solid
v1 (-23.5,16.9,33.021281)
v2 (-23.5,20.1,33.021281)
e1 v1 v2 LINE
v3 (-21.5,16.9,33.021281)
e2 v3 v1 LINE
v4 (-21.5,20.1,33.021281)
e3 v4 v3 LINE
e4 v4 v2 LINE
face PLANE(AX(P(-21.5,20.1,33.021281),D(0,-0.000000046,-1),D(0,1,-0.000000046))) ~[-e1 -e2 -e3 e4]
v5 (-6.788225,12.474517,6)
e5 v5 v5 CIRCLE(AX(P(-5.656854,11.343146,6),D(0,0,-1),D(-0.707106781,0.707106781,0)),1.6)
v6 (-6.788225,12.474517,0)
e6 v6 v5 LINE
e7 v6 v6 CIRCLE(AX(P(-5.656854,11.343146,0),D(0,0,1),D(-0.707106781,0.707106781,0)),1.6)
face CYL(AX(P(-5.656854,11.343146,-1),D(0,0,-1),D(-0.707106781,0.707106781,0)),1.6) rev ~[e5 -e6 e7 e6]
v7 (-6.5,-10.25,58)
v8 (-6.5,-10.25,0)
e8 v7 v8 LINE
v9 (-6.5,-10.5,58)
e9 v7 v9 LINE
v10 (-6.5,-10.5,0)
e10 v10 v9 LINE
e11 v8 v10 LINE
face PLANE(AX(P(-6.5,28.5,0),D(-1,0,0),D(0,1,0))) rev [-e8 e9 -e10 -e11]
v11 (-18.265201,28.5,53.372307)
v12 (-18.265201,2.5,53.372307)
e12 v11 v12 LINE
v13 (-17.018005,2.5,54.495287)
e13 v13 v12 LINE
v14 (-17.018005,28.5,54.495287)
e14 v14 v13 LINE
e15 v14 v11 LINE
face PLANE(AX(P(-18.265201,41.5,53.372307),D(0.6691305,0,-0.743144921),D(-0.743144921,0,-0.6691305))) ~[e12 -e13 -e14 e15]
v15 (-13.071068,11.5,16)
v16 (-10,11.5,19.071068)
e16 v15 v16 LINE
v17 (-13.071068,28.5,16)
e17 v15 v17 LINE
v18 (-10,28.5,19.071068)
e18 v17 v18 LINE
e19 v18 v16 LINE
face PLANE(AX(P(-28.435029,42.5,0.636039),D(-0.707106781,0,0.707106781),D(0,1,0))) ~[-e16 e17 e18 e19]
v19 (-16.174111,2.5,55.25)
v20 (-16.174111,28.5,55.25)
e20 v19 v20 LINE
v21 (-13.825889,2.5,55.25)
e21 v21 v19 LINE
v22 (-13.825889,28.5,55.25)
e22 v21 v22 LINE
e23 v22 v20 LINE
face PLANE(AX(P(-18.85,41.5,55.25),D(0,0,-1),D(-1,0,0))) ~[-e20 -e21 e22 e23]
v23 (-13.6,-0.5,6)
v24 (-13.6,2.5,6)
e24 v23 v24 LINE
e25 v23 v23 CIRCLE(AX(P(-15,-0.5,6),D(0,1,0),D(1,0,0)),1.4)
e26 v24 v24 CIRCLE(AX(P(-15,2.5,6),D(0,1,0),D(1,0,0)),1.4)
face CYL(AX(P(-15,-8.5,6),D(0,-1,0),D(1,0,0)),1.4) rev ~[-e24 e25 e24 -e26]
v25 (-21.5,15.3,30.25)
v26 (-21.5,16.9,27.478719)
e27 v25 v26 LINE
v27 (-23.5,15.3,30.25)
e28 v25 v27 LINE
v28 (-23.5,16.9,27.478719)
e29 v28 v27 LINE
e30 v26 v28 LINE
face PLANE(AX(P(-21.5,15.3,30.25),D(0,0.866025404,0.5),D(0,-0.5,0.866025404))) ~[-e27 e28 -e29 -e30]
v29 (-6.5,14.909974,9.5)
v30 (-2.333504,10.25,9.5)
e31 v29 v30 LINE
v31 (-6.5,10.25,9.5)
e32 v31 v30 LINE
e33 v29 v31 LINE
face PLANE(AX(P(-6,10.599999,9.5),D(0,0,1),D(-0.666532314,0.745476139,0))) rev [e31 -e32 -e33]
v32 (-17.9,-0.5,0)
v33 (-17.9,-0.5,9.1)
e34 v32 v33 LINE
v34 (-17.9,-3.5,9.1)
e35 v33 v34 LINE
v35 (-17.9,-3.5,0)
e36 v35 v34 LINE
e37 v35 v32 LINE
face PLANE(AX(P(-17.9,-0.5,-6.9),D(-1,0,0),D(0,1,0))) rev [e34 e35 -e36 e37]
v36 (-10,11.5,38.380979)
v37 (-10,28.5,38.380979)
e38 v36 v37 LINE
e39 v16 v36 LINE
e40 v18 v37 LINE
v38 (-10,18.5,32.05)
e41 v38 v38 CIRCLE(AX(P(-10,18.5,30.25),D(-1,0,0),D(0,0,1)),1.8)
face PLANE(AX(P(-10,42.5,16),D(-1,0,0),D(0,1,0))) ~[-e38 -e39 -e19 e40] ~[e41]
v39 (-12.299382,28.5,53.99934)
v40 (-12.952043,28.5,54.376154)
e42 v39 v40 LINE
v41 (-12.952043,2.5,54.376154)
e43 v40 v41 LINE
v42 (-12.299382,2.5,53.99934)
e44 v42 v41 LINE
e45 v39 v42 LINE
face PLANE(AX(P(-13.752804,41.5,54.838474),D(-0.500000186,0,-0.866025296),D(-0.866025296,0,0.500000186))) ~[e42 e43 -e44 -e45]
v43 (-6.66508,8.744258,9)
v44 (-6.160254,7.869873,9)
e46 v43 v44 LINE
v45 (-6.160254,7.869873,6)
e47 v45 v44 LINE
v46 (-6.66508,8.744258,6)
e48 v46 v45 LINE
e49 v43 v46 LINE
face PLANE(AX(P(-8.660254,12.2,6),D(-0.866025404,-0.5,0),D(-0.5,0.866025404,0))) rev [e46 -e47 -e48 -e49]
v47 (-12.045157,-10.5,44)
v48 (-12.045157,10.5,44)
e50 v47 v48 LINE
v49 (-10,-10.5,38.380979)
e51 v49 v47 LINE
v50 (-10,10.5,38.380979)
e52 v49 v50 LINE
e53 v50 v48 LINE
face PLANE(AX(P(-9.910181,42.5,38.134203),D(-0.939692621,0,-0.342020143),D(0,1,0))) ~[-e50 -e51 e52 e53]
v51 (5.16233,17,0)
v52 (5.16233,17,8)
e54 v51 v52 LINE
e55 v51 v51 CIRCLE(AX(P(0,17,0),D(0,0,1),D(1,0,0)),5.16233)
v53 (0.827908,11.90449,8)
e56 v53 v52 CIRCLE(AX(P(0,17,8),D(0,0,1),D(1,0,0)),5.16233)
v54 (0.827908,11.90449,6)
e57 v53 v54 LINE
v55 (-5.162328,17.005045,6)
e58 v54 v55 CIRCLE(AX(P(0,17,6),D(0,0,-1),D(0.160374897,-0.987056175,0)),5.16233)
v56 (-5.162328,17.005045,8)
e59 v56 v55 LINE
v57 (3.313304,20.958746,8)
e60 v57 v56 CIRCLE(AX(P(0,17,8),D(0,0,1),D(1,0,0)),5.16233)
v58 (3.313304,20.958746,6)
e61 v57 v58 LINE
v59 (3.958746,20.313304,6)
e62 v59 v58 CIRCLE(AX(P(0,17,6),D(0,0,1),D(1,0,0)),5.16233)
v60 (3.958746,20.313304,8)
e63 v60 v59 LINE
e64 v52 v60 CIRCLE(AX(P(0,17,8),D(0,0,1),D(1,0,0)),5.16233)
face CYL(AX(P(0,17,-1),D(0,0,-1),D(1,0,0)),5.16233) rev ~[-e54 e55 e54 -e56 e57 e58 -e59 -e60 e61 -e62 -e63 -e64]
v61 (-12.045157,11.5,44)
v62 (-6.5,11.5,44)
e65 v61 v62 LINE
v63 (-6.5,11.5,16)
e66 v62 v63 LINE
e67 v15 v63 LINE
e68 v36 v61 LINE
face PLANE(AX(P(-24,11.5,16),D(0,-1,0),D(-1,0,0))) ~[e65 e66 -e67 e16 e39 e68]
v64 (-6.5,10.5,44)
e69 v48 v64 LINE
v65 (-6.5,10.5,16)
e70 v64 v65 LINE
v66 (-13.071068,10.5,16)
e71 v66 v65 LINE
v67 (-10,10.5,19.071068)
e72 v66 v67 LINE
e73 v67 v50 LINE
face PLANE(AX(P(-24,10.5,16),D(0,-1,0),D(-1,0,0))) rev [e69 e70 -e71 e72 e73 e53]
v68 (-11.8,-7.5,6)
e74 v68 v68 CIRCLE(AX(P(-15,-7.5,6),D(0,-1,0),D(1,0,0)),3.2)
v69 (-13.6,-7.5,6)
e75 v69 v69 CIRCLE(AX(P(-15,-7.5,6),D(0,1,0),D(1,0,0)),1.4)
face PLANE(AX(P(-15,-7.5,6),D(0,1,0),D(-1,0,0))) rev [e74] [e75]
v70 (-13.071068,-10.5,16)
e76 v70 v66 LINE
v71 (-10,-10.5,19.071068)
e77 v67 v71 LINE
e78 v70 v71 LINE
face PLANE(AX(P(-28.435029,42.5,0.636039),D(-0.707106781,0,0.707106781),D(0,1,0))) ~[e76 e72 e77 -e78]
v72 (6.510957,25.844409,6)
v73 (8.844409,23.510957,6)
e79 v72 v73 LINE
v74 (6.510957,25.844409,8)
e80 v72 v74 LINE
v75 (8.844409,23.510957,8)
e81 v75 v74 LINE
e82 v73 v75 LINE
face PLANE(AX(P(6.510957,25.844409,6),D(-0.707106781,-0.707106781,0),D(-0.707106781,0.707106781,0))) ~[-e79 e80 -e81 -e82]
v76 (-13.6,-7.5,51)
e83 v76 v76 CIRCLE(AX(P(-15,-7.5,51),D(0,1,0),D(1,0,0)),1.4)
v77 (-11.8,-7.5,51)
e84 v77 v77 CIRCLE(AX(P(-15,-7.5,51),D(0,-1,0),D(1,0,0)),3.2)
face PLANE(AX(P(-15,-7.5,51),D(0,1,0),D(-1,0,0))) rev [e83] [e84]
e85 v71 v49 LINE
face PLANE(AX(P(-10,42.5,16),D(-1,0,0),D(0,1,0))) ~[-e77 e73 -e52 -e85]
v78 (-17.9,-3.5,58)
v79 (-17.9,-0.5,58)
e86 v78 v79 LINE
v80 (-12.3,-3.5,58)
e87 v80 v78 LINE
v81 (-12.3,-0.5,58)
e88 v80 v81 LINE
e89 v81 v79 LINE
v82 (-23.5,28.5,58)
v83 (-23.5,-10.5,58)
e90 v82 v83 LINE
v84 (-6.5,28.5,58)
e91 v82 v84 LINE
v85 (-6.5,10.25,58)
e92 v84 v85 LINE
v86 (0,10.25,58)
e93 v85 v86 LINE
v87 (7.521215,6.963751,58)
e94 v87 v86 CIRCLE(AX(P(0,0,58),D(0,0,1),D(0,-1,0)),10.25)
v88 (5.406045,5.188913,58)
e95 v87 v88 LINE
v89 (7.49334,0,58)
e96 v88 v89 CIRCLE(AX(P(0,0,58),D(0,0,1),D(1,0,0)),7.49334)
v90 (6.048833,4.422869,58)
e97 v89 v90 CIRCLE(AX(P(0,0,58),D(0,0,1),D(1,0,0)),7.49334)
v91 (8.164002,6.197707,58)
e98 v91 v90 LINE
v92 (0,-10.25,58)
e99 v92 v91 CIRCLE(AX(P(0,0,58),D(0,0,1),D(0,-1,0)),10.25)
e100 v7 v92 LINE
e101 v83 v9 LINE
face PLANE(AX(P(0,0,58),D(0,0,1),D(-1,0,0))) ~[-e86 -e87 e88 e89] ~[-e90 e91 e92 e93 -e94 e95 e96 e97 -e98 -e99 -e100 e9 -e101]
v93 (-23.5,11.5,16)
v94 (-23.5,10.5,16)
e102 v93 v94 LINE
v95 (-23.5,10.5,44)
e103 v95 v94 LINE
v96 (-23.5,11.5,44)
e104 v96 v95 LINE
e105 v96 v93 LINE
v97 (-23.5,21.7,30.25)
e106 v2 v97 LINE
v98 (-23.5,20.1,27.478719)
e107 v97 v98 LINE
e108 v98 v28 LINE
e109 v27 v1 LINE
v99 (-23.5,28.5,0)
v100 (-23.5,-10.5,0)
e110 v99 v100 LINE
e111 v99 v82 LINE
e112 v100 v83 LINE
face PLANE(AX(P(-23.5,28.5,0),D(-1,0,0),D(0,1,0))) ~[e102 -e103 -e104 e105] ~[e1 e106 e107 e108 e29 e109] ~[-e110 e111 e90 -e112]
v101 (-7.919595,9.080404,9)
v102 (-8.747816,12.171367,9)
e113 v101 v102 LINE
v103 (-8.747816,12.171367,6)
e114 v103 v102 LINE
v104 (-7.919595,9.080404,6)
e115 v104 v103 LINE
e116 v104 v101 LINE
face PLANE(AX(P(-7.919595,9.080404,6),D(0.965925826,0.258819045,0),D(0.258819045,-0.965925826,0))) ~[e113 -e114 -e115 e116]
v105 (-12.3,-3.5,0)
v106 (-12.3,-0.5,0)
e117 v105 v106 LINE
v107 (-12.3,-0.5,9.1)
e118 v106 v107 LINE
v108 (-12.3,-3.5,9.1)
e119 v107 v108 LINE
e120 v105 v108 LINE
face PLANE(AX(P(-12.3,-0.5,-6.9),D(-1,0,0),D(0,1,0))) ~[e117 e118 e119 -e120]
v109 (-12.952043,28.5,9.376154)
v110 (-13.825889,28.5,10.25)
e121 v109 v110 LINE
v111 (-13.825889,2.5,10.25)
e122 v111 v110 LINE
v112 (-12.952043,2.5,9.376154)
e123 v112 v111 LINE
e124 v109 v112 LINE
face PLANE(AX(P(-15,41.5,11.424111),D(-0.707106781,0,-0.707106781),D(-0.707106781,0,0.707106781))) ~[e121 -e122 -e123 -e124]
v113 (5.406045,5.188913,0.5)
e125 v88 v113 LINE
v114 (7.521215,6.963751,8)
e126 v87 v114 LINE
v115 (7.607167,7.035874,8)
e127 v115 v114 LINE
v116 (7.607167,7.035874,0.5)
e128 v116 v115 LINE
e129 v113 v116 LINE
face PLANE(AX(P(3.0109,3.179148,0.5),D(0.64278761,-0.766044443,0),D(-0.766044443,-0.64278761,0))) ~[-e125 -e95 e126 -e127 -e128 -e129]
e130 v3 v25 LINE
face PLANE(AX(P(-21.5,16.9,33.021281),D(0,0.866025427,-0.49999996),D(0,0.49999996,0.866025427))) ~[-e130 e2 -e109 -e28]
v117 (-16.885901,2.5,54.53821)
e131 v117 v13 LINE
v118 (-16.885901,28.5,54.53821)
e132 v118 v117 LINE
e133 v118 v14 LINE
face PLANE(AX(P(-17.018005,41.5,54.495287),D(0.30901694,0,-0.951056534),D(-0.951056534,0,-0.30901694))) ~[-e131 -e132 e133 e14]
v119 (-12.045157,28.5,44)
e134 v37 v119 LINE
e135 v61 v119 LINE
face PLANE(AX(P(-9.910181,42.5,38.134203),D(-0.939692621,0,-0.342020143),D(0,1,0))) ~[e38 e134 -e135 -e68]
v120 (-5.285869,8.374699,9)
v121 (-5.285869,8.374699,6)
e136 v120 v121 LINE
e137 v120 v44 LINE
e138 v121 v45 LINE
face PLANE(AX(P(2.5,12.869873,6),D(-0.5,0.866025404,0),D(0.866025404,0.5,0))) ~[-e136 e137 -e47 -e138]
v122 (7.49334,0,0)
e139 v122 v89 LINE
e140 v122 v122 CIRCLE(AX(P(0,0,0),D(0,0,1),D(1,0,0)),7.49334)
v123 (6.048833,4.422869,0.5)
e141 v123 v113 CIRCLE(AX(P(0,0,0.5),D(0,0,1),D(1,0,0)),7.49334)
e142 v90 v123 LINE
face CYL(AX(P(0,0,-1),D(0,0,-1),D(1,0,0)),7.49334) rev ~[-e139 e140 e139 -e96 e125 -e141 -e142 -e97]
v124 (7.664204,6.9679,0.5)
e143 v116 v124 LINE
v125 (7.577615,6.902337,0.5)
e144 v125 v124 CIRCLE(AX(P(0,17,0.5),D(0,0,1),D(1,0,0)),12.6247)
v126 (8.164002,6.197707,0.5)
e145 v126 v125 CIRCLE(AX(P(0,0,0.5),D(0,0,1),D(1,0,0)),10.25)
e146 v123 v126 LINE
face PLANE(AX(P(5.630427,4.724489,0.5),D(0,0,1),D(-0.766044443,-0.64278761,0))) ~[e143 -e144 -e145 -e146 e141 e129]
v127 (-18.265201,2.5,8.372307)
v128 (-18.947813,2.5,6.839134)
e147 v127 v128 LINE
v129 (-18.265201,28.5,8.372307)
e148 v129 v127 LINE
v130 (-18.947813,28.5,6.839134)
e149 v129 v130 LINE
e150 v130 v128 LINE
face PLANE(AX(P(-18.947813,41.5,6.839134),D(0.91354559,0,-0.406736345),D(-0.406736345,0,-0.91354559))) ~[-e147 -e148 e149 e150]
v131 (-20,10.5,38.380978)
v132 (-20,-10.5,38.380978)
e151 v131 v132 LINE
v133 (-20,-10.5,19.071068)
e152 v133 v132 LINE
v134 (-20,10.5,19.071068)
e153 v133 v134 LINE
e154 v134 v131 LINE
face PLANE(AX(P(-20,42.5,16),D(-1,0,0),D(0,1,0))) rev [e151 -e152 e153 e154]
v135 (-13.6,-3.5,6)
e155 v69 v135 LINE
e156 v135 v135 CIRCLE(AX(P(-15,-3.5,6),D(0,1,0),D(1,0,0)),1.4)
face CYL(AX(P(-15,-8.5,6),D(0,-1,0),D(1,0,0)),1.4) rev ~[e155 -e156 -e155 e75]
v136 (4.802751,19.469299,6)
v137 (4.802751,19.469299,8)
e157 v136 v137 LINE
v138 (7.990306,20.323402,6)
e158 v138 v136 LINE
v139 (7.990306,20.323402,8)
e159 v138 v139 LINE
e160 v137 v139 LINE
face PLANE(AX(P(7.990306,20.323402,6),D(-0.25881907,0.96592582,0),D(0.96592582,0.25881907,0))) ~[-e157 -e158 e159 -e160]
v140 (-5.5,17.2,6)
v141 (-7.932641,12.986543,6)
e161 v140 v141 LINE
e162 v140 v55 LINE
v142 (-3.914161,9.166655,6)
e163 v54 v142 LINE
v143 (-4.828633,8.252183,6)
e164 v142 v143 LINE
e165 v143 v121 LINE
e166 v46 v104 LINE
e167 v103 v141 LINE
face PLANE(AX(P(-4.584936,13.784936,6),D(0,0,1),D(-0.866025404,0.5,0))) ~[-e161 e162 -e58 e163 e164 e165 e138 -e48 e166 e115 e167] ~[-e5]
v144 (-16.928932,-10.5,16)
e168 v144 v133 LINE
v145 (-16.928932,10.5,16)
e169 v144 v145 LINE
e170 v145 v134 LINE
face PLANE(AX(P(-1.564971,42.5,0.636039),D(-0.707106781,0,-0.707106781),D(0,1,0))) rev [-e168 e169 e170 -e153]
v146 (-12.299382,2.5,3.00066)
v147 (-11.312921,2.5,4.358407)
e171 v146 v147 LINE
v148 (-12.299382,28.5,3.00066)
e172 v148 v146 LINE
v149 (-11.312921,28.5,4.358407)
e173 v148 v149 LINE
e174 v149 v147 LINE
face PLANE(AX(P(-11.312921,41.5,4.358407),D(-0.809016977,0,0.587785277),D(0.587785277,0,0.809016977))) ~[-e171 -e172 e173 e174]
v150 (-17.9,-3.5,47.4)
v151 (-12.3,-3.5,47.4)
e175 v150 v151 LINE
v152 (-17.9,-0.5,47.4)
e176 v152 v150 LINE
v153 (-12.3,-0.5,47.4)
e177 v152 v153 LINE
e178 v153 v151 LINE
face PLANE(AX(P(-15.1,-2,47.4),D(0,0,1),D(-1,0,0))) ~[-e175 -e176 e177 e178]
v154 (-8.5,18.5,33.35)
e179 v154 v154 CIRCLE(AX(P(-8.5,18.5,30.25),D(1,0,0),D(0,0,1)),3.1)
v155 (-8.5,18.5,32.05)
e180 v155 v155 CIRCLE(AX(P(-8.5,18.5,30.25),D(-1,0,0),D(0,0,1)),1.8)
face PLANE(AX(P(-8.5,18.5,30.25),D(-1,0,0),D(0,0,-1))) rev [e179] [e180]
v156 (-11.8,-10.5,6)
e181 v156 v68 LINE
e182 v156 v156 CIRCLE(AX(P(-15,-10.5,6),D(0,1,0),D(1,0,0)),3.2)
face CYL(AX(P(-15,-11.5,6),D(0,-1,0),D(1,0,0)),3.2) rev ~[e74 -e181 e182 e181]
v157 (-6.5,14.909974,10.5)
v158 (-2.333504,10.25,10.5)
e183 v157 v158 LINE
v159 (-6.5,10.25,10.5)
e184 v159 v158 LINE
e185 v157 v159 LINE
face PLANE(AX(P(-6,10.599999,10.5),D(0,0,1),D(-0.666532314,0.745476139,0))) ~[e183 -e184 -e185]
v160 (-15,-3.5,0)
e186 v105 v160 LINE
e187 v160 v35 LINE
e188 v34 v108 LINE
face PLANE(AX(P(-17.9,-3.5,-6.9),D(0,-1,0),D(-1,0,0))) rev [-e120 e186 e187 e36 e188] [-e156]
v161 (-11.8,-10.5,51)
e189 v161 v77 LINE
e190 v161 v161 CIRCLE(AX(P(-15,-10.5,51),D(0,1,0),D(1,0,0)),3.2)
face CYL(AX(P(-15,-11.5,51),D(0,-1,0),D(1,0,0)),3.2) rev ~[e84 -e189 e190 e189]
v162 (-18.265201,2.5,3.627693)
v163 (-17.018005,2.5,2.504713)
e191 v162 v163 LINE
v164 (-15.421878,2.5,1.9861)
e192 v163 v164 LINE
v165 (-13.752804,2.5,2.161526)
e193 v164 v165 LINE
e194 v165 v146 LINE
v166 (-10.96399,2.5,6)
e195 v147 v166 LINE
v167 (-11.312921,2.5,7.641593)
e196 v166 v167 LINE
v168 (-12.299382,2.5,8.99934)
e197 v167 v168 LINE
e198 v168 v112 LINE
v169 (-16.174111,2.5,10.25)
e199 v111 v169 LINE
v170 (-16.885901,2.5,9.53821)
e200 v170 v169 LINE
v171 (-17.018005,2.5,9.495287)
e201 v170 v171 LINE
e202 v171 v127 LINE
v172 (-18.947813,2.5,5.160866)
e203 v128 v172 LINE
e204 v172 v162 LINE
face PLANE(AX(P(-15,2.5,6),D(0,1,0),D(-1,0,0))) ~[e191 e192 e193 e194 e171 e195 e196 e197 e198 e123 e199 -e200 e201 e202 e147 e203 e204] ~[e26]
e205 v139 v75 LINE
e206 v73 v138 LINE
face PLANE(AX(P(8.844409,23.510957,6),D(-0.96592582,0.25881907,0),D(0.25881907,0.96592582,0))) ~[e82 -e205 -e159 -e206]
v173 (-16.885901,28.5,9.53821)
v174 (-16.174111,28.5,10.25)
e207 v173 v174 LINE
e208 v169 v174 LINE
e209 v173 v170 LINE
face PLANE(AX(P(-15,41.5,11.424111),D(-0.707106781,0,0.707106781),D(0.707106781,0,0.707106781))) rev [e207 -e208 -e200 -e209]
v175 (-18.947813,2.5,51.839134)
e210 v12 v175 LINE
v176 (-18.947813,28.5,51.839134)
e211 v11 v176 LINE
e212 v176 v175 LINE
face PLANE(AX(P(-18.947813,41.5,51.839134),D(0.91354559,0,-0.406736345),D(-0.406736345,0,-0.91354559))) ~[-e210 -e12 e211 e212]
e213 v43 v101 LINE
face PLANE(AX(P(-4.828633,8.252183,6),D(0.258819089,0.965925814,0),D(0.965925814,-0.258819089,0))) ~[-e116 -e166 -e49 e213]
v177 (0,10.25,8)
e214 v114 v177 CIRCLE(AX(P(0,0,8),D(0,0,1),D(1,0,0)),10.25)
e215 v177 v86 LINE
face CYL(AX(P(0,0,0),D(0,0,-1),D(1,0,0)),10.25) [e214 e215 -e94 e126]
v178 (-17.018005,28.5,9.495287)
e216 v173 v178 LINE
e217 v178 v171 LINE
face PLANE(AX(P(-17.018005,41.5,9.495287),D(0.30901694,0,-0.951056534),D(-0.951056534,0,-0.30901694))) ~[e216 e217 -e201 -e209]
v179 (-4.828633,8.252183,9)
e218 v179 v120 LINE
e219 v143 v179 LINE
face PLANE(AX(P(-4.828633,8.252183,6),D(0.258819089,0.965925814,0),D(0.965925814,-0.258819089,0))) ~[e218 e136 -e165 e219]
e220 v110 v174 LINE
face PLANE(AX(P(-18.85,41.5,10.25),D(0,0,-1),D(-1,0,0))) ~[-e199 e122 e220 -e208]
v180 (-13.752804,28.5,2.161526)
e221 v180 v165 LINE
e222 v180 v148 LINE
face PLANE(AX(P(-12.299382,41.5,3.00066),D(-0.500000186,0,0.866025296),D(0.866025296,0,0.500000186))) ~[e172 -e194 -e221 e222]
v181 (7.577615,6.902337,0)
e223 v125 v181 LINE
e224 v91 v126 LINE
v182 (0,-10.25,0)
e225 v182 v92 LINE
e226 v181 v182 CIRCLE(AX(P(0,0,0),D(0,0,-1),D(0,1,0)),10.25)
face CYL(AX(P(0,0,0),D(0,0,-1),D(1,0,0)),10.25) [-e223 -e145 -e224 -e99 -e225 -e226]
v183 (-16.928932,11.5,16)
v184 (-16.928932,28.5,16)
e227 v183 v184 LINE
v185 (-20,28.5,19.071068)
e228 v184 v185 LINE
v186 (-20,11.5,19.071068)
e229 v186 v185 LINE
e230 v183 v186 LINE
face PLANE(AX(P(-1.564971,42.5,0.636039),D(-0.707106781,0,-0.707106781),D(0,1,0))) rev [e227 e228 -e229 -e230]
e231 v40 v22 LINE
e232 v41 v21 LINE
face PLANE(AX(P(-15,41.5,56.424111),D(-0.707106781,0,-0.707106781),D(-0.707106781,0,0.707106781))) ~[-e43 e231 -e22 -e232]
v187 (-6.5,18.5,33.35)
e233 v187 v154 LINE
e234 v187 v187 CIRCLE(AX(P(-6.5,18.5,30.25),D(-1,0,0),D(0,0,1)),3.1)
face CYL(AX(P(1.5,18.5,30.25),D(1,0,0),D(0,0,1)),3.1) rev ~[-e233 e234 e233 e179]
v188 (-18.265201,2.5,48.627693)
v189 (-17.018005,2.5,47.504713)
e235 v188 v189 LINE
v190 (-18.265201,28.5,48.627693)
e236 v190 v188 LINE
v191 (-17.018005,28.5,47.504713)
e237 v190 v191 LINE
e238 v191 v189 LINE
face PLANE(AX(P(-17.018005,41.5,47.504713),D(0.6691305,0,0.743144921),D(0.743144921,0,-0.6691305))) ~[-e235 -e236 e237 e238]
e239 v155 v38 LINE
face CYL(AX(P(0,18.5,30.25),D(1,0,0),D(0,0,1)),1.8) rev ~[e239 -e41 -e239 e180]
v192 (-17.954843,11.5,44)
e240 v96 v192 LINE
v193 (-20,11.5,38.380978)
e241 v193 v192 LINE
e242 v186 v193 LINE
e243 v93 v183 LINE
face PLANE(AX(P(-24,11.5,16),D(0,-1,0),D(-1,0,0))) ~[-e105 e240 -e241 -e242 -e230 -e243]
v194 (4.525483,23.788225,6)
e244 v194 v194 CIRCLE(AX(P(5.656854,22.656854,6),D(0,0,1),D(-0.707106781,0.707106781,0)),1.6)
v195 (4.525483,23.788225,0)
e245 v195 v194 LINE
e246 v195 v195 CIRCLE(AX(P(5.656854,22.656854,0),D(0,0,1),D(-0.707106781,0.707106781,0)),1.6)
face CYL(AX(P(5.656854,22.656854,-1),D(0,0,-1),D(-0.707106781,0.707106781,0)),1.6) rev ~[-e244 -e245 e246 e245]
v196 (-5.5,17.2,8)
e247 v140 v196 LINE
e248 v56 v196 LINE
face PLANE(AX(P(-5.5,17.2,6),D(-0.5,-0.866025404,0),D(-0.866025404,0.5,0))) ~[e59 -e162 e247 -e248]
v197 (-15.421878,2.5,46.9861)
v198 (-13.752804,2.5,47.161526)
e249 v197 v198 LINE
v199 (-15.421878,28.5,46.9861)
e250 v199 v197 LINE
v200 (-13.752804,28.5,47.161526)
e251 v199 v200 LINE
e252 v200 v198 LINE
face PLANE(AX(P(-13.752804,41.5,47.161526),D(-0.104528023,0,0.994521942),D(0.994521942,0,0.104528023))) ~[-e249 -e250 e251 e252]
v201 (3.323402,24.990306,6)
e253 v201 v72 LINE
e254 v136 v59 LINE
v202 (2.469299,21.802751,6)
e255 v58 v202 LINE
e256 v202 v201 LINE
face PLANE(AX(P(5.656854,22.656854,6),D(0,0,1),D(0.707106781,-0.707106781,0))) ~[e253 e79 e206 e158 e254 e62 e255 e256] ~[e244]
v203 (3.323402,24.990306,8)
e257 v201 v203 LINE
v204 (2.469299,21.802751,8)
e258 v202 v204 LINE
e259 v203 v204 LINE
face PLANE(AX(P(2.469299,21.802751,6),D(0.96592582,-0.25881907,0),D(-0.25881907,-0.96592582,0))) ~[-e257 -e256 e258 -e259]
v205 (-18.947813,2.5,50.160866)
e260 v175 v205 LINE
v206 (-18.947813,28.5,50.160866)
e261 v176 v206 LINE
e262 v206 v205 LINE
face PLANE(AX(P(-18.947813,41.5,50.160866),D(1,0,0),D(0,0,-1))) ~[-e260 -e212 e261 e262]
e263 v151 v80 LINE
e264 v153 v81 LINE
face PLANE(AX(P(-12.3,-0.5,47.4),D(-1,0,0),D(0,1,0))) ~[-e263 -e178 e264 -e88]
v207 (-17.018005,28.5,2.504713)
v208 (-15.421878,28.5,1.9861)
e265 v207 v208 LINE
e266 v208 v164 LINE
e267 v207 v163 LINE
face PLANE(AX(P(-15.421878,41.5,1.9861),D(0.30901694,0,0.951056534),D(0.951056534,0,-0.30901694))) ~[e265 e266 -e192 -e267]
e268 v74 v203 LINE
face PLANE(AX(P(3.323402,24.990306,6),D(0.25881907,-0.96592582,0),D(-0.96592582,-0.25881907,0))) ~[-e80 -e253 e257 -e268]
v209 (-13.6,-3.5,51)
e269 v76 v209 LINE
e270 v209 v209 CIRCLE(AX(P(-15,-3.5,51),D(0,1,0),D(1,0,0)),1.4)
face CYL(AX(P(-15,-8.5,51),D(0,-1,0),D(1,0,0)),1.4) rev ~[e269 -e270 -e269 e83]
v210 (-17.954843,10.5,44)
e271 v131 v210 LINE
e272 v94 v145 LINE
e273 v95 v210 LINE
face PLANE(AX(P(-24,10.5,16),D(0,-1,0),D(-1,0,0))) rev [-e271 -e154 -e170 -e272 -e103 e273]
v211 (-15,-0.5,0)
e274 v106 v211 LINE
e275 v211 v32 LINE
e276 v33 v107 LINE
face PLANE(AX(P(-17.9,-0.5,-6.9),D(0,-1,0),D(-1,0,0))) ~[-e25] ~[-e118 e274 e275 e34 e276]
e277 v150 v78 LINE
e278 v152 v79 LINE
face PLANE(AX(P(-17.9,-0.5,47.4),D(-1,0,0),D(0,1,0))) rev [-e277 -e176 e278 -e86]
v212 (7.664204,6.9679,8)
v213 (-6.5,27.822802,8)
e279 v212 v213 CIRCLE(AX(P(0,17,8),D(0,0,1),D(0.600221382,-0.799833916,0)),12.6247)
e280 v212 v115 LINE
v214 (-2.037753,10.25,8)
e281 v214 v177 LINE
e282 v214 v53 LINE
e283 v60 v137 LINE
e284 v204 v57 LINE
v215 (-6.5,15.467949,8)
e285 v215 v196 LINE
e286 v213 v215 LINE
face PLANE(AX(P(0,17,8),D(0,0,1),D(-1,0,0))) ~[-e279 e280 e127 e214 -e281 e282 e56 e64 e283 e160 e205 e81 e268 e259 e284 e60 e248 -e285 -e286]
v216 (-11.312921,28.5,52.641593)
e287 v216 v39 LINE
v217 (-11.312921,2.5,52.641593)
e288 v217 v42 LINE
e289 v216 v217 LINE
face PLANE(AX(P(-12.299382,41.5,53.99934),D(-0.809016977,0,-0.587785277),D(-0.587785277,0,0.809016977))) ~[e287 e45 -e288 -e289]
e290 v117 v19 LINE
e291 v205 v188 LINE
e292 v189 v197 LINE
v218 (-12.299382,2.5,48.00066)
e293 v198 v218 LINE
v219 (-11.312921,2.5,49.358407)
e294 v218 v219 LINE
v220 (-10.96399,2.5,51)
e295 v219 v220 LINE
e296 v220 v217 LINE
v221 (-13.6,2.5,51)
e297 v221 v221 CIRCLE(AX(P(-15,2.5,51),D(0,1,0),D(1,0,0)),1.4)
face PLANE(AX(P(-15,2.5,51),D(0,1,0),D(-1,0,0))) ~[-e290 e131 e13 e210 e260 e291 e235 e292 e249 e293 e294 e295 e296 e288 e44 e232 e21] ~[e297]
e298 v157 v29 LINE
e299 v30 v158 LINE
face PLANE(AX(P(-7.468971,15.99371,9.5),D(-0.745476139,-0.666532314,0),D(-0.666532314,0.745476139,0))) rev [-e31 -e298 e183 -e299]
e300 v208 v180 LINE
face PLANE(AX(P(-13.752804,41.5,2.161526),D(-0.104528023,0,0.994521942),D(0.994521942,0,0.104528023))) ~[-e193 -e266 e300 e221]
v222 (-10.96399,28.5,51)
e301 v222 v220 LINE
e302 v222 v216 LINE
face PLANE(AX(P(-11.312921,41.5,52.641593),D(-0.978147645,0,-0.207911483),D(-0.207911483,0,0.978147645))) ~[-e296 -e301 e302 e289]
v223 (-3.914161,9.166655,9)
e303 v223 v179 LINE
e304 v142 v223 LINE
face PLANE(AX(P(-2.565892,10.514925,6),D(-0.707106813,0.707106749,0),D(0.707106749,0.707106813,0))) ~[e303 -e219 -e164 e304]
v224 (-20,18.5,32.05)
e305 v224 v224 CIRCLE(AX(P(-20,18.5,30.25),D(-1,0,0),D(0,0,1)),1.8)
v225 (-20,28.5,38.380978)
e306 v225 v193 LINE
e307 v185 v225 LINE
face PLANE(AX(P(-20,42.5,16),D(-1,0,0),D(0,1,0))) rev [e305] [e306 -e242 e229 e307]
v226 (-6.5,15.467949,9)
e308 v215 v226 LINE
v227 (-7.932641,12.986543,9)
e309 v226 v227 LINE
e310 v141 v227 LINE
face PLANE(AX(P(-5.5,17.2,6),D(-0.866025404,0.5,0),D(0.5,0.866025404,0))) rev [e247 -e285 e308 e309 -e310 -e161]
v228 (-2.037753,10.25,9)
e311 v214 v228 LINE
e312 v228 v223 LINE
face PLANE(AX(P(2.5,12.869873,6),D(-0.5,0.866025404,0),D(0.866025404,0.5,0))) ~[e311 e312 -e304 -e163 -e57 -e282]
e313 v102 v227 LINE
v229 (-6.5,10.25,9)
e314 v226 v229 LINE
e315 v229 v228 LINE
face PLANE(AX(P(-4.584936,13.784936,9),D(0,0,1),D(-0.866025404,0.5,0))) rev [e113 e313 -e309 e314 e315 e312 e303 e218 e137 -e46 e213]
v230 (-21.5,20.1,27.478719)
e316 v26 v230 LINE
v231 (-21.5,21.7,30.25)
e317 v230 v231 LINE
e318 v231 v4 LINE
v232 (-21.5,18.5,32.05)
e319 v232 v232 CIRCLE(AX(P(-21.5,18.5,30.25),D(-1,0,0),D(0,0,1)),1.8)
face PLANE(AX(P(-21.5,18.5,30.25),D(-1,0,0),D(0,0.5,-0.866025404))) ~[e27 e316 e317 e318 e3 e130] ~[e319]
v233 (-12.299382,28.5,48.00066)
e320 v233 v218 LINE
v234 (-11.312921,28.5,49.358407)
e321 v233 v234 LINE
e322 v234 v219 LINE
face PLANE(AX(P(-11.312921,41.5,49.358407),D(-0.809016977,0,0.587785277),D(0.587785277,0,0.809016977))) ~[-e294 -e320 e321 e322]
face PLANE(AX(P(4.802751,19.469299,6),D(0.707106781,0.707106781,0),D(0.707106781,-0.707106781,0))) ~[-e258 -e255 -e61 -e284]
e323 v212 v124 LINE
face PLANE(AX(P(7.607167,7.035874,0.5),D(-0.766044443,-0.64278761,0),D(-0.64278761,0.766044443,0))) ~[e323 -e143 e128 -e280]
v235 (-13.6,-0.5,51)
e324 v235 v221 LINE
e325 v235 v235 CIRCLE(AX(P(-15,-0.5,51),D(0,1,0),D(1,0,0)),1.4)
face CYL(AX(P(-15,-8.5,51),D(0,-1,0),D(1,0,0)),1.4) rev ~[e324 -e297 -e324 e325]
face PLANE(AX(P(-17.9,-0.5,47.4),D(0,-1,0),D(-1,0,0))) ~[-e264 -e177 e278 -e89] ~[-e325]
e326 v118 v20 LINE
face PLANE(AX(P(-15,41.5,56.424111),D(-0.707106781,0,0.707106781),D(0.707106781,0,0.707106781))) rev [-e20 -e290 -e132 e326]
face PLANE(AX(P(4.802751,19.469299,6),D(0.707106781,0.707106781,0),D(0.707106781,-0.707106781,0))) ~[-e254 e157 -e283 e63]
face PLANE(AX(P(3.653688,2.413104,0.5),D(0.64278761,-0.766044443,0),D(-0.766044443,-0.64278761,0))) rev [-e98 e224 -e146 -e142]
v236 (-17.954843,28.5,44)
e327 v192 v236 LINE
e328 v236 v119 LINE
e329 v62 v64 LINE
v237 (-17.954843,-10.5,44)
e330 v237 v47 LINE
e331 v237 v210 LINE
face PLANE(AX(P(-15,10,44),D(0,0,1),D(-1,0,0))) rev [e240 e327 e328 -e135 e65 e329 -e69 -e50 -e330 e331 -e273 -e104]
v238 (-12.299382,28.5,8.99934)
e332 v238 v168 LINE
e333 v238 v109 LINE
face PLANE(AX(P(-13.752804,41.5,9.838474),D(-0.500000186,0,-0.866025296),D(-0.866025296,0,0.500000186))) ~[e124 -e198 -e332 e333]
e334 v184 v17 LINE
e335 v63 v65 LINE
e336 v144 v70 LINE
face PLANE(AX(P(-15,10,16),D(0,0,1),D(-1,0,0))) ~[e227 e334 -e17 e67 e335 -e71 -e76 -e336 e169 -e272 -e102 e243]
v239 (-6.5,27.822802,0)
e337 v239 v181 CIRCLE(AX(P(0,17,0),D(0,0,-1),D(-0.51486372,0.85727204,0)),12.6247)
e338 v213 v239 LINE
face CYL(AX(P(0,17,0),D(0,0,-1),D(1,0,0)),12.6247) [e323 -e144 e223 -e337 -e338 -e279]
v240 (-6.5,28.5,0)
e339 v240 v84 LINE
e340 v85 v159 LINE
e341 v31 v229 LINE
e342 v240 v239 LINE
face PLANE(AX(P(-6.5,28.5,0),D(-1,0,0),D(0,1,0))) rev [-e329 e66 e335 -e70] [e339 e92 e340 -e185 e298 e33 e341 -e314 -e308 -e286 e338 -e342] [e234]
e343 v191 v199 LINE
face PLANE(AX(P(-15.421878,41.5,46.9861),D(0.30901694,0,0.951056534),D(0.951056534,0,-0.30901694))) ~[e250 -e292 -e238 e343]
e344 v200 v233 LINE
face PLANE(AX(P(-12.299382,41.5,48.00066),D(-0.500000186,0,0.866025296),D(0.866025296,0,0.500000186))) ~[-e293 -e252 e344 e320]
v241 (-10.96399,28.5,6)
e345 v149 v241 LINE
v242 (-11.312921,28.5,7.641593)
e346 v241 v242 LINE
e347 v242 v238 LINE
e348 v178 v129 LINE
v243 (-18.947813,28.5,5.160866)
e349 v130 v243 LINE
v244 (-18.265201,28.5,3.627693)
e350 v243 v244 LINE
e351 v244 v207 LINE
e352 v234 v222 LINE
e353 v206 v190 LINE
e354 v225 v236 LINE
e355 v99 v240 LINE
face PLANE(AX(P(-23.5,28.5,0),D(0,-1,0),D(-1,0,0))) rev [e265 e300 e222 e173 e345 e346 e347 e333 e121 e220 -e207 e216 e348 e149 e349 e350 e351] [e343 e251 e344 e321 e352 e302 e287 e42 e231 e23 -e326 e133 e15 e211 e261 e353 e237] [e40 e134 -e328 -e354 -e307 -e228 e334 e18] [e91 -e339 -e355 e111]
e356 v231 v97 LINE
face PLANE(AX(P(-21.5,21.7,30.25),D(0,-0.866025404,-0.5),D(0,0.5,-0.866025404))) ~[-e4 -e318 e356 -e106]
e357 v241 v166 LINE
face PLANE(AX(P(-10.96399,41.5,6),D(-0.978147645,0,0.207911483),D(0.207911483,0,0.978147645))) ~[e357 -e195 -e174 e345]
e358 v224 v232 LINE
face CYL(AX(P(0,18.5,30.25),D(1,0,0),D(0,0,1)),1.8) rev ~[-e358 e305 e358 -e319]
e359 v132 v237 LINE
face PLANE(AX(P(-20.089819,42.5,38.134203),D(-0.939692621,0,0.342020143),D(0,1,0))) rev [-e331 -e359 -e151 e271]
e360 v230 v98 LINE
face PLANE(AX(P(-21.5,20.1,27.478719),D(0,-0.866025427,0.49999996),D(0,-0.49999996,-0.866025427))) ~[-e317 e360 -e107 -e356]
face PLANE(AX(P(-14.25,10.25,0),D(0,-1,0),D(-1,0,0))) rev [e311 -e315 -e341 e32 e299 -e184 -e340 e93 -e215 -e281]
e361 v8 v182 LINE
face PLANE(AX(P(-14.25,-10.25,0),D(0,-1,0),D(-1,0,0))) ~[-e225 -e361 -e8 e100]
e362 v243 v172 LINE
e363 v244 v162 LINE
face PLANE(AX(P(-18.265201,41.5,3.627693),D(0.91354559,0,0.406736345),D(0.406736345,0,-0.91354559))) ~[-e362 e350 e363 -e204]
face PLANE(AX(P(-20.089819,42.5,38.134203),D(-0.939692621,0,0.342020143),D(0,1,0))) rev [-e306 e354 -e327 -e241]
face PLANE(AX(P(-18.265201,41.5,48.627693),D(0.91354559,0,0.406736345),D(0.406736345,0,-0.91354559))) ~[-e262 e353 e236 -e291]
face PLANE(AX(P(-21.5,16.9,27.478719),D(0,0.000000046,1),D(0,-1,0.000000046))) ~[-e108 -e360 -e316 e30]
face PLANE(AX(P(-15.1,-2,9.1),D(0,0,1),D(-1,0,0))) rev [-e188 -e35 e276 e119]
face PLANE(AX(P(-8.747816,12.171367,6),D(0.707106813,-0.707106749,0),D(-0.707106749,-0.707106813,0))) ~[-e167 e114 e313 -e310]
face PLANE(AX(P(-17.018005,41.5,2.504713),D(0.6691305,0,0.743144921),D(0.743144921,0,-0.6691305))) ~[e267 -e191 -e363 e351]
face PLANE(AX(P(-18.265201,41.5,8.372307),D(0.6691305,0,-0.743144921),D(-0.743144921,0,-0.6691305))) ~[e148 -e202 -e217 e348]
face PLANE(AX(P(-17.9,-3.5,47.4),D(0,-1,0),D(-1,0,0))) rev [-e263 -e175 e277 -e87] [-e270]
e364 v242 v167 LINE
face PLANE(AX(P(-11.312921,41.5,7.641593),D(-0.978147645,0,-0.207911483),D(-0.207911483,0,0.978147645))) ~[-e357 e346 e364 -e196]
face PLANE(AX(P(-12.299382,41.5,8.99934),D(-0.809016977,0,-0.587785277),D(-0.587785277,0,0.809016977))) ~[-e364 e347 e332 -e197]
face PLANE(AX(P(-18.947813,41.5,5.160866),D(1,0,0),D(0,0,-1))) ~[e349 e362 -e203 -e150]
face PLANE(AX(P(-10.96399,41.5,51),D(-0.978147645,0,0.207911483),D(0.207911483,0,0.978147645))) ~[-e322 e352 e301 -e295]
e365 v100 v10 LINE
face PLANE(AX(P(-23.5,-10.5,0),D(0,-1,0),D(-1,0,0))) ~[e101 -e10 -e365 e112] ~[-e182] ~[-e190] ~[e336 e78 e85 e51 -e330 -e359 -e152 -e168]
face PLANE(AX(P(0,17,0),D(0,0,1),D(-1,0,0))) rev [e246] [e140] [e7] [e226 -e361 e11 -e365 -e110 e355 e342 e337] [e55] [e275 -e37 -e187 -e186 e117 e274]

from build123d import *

# Parameters (mm, degrees)
CYLINDER011_R               = 1.4
CYLINDER011_DEPTH           = 12
CYLINDER012_R               = 3.2
CYLINDER012_DEPTH           = 4
CYLINDER013_R               = 3.2
CYLINDER013_DEPTH           = 4
CUBE016_W                   = 5.6
CUBE016_H                   = 3
CUBE016_DEPTH               = 20
CUBE017_W                   = 5.6
CUBE017_H                   = 3
CUBE017_DEPTH               = 16
CYLINDER010_R               = 1.4
CYLINDER010_DEPTH           = 12
CYLINDER008_R               = 6
CYLINDER008_DEPTH           = 11
CYLINDER009_R               = 6
CYLINDER009_DEPTH           = 11
CYLINDER007_R               = 3.1
CYLINDER007_DEPTH           = 10
PRISM004_DEPTH              = 80
PRISM004_ROLL_ANGLE         = -90
PRISM004_PITCH_ANGLE        = -60
PRISM004_PLACEMENT_ANGLE    = 90
CYLINDER006_R               = 1.8
CYLINDER006_DEPTH           = 80
CUBE007_W                   = 10
CUBE007_H                   = 65
CUBE007_DEPTH               = 28
CUBE007_PLACEMENT_ANGLE     = 20
CUBE008_W                   = 10
CUBE008_H                   = 65
CUBE008_DEPTH               = 28
CUBE008_PLACEMENT_ANGLE     = 45
CUBE009_W                   = 10
CUBE009_H                   = 65
CUBE009_DEPTH               = 28
CUBE009_PLACEMENT_ANGLE     = 45
CUBE006_W                   = 10
CUBE006_H                   = 65
CUBE006_DEPTH               = 28
CUBE006_PLACEMENT_ANGLE     = 20
CUBE005_W                   = 10
CUBE005_H                   = 65
CUBE005_DEPTH               = 28
CUBE004_W                   = 18
CUBE004_H                   = 1
CUBE004_DEPTH               = 28
CUBE011_W                   = 7.7
CUBE011_H                   = 3.85
CUBE011_DEPTH               = 50
CUBE010_W                   = 3.85
CUBE010_H                   = 3.85
CUBE010_DEPTH               = 50
CUBE010_PLACEMENT_ANGLE     = 45
PRISM_DEPTH                 = 50
GROUP003_PLACEMENT_ANGLE    = 90
CUBE013_W                   = 7.7
CUBE013_H                   = 3.85
CUBE013_DEPTH               = 50
CUBE012_W                   = 3.85
CUBE012_H                   = 3.85
CUBE012_DEPTH               = 50
CUBE012_PLACEMENT_ANGLE     = 45
PRISM001_DEPTH              = 50
GROUP004_PLACEMENT_ANGLE    = 90
CYLINDER003_R               = 5.16233
CYLINDER003_DEPTH           = 9.01
CYLINDER004_R               = 1.6
CYLINDER004_DEPTH           = 10
CYLINDER004_PLACEMENT_ANGLE = 225
CYLINDER005_R               = 1.6
CYLINDER005_DEPTH           = 10
CYLINDER005_PLACEMENT_ANGLE = 225
PRISM002_DEPTH              = 3
PRISM002_PLACEMENT_ANGLE    = 225
PRISM003_DEPTH              = 3
PRISM003_PLACEMENT_ANGLE    = 255
CUBE014_W                   = 5
CUBE014_H                   = 5
CUBE014_DEPTH               = 3
CUBE014_PLACEMENT_ANGLE     = 30
CUBE015_W                   = 5
CUBE015_H                   = 10
CUBE015_DEPTH               = 3
CUBE015_PLACEMENT_ANGLE     = 60
CUBE003_W                   = 6
CUBE003_H                   = 1
CUBE003_DEPTH               = 62
CUBE003_PLACEMENT_ANGLE     = 40
CYLINDER002_R               = 7.49334
CYLINDER002_DEPTH           = 62
CYLINDER_R                  = 10.25
CYLINDER_DEPTH              = 58
CUBE001_W                   = 14.25
CUBE001_H                   = 20.5
CUBE001_DEPTH               = 58
CYLINDER001_R               = 12.6247
CYLINDER001_DEPTH           = 8
CUBE002_W                   = 10
CUBE002_H                   = 5
CUBE002_DEPTH               = 1
CUBE002_PLACEMENT_ANGLE     = 48.200012
CUBE_W                      = 17
CUBE_H                      = 39
CUBE_DEPTH                  = 58


with BuildPart() as cylinder011:
    # cylinder011 → cylinder011 (new body)
    with BuildSketch(Plane(origin=(-15, 8.5, 51), x_dir=(1, 0, 0), z_dir=(0, -1, 0))):
        Circle(CYLINDER011_R)
    extrude(amount=CYLINDER011_DEPTH)


with BuildPart() as cylinder012:
    # cylinder012 → cylinder012 (new body)
    with BuildSketch(Plane(origin=(-15, 11.5, 6), x_dir=(1, 0, 0), z_dir=(0, -1, 0))):
        Circle(CYLINDER012_R)
    extrude(amount=CYLINDER012_DEPTH)


with BuildPart() as cylinder013:
    # cylinder013 → cylinder013 (new body)
    with BuildSketch(Plane(origin=(-15, 11.5, 51), x_dir=(1, 0, 0), z_dir=(0, -1, 0))):
        Circle(CYLINDER013_R)
    extrude(amount=CYLINDER013_DEPTH)


with BuildPart() as cube016:
    # cube016 → cube016 (new body)
    with BuildSketch(Plane(origin=(-17.9, 0.5, 47.4), x_dir=(1, 0, 0), z_dir=(0, 0, 1))):
        with Locations((2.8, 1.5)):
            Rectangle(CUBE016_W, CUBE016_H)
    extrude(amount=CUBE016_DEPTH)


with BuildPart() as cube017:
    # cube017 → cube017 (new body)
    with BuildSketch(Plane(origin=(-17.9, 0.5, -6.9), x_dir=(1, 0, 0), z_dir=(0, 0, 1))):
        with Locations((2.8, 1.5)):
            Rectangle(CUBE017_W, CUBE017_H)
    extrude(amount=CUBE017_DEPTH)


with BuildPart() as group007:
    # cylinder010 → cylinder010 (new body)
    with BuildSketch(Plane(origin=(-15, 8.5, 6), x_dir=(1, 0, 0), z_dir=(0, -1, 0))):
        Circle(CYLINDER010_R)
    extrude(amount=CYLINDER010_DEPTH)

    # Group007: union cylinder011, cylinder012, cylinder013, cube016, cube017
    add(cylinder011.part)
    add(cylinder012.part)
    add(cylinder013.part)
    add(cube016.part)
    add(cube017.part)


with BuildPart() as cylinder008:
    # cylinder008 → cylinder008 (new body)
    with BuildSketch(Plane(origin=(-15, 8.5, 6), x_dir=(1, 0, 0), z_dir=(0, -1, 0))):
        Circle(CYLINDER008_R)
    extrude(amount=CYLINDER008_DEPTH)


with BuildPart() as cylinder009:
    # cylinder009 → cylinder009 (new body)
    with BuildSketch(Plane(origin=(-15, 8.5, 51), x_dir=(1, 0, 0), z_dir=(0, -1, 0))):
        Circle(CYLINDER009_R)
    extrude(amount=CYLINDER009_DEPTH)


with BuildPart() as cylinder007:
    # cylinder007 → cylinder007 (new body)
    with BuildSketch(Plane(origin=(1.5, -22, 30.25), x_dir=(0, 0, 1), z_dir=(-1, 0, 0))):
        Circle(CYLINDER007_R)
    extrude(amount=CYLINDER007_DEPTH)


with BuildPart() as prism004:
    # prism004 → prism004 (new body)
    with BuildSketch(Plane.XY):
        Polygon((3.2, 0), (1.6, 2.771281), (-1.6, 2.771281), (-3.2, 0), (-1.6, -2.771281), (1.6, -2.771281), align=None)
    extrude(amount=PRISM004_DEPTH)


with BuildPart() as prism004_1:
    # prism004 roll: moved
    add(prism004.part.rotate(Axis((0, 0, 0), (1, 0, 0)), PRISM004_ROLL_ANGLE))


with BuildPart() as prism004_2:
    # prism004 pitch: moved
    add(prism004_1.part.rotate(Axis((0, 0, 0), (0, 1, 0)), PRISM004_PITCH_ANGLE))


with BuildPart() as prism004_3:
    # prism004 placement: moved
    add(prism004_2.part.moved(Location((-21.5, -22, 30.25))).rotate(Axis((-21.5, -22, 30.25), (0, 0, 1)), PRISM004_PLACEMENT_ANGLE))


with BuildPart() as matrix_union001:
    # cylinder006 → cylinder006 (new body)
    with BuildSketch(Plane(origin=(0, -22, 30.25), x_dir=(0, 0, 1), z_dir=(-1, 0, 0))):
        Circle(CYLINDER006_R)
    extrude(amount=CYLINDER006_DEPTH)

    # Matrix_Union001: union cylinder007, prism004
    add(cylinder007.part)
    add(prism004_3.part)


with BuildPart() as matrix_union001_1:
    # Matrix_Union001 placement: moved
    add(matrix_union001.part.moved(Location((0, 3.5, 0))))


with BuildPart() as cube007:
    # cube007 → cube007 (new body)
    with BuildSketch(Plane.XY):
        with Locations((5, 32.5)):
            Rectangle(CUBE007_W, CUBE007_H)
    extrude(amount=CUBE007_DEPTH)


with BuildPart() as cube007_1:
    # cube007 placement: moved
    add(cube007.part.moved(Location((-8.910181, -42.5, 38.134203))).rotate(Axis((-8.910181, -42.5, 38.134203), (0, -1, 0)), CUBE007_PLACEMENT_ANGLE))


with BuildPart() as cube008:
    # cube008 → cube008 (new body)
    with BuildSketch(Plane.XY):
        with Locations((5, 32.5)):
            Rectangle(CUBE008_W, CUBE008_H)
    extrude(amount=CUBE008_DEPTH)


with BuildPart() as cube008_1:
    # cube008 placement: moved
    add(cube008.part.moved(Location((-27.435029, -42.5, 0.636039))).rotate(Axis((-27.435029, -42.5, 0.636039), (0, 1, 0)), CUBE008_PLACEMENT_ANGLE))


with BuildPart() as cube009:
    # cube009 → cube009 (new body)
    with BuildSketch(Plane.XY):
        with Locations((5, 32.5)):
            Rectangle(CUBE009_W, CUBE009_H)
    extrude(amount=CUBE009_DEPTH)


with BuildPart() as cube009_1:
    # cube009 placement: moved
    add(cube009.part.moved(Location((-7.636039, -42.5, -6.435029))).rotate(Axis((-7.636039, -42.5, -6.435029), (0, -1, 0)), CUBE009_PLACEMENT_ANGLE))


with BuildPart() as union:
    # cube006 → cube006 (new body)
    with BuildSketch(Plane.XY):
        with Locations((5, 32.5)):
            Rectangle(CUBE006_W, CUBE006_H)
    extrude(amount=CUBE006_DEPTH)


with BuildPart() as union_1:
    # cube006 placement: moved
    add(union.part.moved(Location((-28.486745, -42.5, 41.554404))).rotate(Axis((-28.486745, -42.5, 41.554404), (0, 1, 0)), CUBE006_PLACEMENT_ANGLE))

    # union: union cube007, cube008, cube009
    add(cube007_1.part)
    add(cube008_1.part)
    add(cube009_1.part)


with BuildPart() as difference:
    # cube005 → cube005 (new body)
    with BuildSketch(Plane(origin=(-19, -42.5, 16), x_dir=(1, 0, 0), z_dir=(0, 0, 1))):
        with Locations((5, 32.5)):
            Rectangle(CUBE005_W, CUBE005_H)
    extrude(amount=CUBE005_DEPTH)

    # difference: cut union
    add(union_1.part, mode=Mode.SUBTRACT)


with BuildPart() as matrix_union:
    # cube004 → cube004 (new body)
    with BuildSketch(Plane(origin=(-23, -11.5, 16), x_dir=(1, 0, 0), z_dir=(0, 0, 1))):
        with Locations((9, 0.5)):
            Rectangle(CUBE004_W, CUBE004_H)
    extrude(amount=CUBE004_DEPTH)

    # Matrix_Union: union difference
    add(difference.part)


with BuildPart() as matrix_union_1:
    # Matrix_Union placement: moved
    add(matrix_union.part.moved(Location((-1, 0, 0))))


with BuildPart() as cube011:
    # cube011 → cube011 (new body)
    with BuildSketch(Plane(origin=(-3.85, -8.1, 0), x_dir=(1, 0, 0), z_dir=(0, 0, 1))):
        with Locations((3.85, 1.925)):
            Rectangle(CUBE011_W, CUBE011_H)
    extrude(amount=CUBE011_DEPTH)


with BuildPart() as difference001:
    # cube010 → cube010 (new body)
    with BuildSketch(Plane.XY):
        with Locations((1.925, 1.925)):
            Rectangle(CUBE010_W, CUBE010_H)
    extrude(amount=CUBE010_DEPTH)


with BuildPart() as difference001_1:
    # cube010 placement: moved
    add(difference001.part.moved(Location((0, -5.424111, 0))).rotate(Axis((0, -5.424111, 0), (0, 0, 1)), CUBE010_PLACEMENT_ANGLE))

    # difference001: cut cube011
    add(cube011.part, mode=Mode.SUBTRACT)


with BuildPart() as group003:
    # prism → prism (new body)
    with BuildSketch(Plane.XY):
        Polygon((4.03601, 0), (3.687079, 1.641593), (2.700618, 2.99934), (1.247196, 3.838474), (-0.421878, 4.0139), (-2.018005, 3.495287), (-3.265201, 2.372307), (-3.947813, 0.839134), (-3.947813, -0.839134), (-3.265201, -2.372307), (-2.018005, -3.495287), (-0.421878, -4.0139), (1.247196, -3.838474), (2.700618, -2.99934), (3.687079, -1.641593), align=None)
    extrude(amount=PRISM_DEPTH)

    # Group003: union difference001
    add(difference001_1.part)


with BuildPart() as group003_1:
    # Group003 placement: moved
    add(group003.part.moved(Location((-15, -41.5, 6))).rotate(Axis((-15, -41.5, 6), (-1, 0, 0)), GROUP003_PLACEMENT_ANGLE))


with BuildPart() as cube013:
    # cube013 → cube013 (new body)
    with BuildSketch(Plane(origin=(-3.85, -8.1, 0), x_dir=(1, 0, 0), z_dir=(0, 0, 1))):
        with Locations((3.85, 1.925)):
            Rectangle(CUBE013_W, CUBE013_H)
    extrude(amount=CUBE013_DEPTH)


with BuildPart() as difference002:
    # cube012 → cube012 (new body)
    with BuildSketch(Plane.XY):
        with Locations((1.925, 1.925)):
            Rectangle(CUBE012_W, CUBE012_H)
    extrude(amount=CUBE012_DEPTH)


with BuildPart() as difference002_1:
    # cube012 placement: moved
    add(difference002.part.moved(Location((0, -5.424111, 0))).rotate(Axis((0, -5.424111, 0), (0, 0, 1)), CUBE012_PLACEMENT_ANGLE))

    # difference002: cut cube013
    add(cube013.part, mode=Mode.SUBTRACT)


with BuildPart() as group004:
    # prism001 → prism001 (new body)
    with BuildSketch(Plane.XY):
        Polygon((4.03601, 0), (3.687079, 1.641593), (2.700618, 2.99934), (1.247196, 3.838474), (-0.421878, 4.0139), (-2.018005, 3.495287), (-3.265201, 2.372307), (-3.947813, 0.839134), (-3.947813, -0.839134), (-3.265201, -2.372307), (-2.018005, -3.495287), (-0.421878, -4.0139), (1.247196, -3.838474), (2.700618, -2.99934), (3.687079, -1.641593), align=None)
    extrude(amount=PRISM001_DEPTH)

    # Group004: union difference002
    add(difference002_1.part)


with BuildPart() as group004_1:
    # Group004 placement: moved
    add(group004.part.moved(Location((-15, -41.5, 51))).rotate(Axis((-15, -41.5, 51), (-1, 0, 0)), GROUP004_PLACEMENT_ANGLE))


with BuildPart() as cylinder003:
    # cylinder003 → cylinder003 (new body)
    with BuildSketch(Plane(origin=(0, -17, -1), x_dir=(1, 0, 0), z_dir=(0, 0, 1))):
        Circle(CYLINDER003_R)
    extrude(amount=CYLINDER003_DEPTH)


with BuildPart() as cylinder004:
    # cylinder004 → cylinder004 (new body)
    with BuildSketch(Plane.XY):
        Circle(CYLINDER004_R)
    extrude(amount=CYLINDER004_DEPTH)


with BuildPart() as cylinder004_1:
    # cylinder004 placement: moved
    add(cylinder004.part.moved(Location((5.656854, -22.656854, -1))).rotate(Axis((5.656854, -22.656854, -1), (0, 0, 1)), CYLINDER004_PLACEMENT_ANGLE))


with BuildPart() as cylinder005:
    # cylinder005 → cylinder005 (new body)
    with BuildSketch(Plane.XY):
        Circle(CYLINDER005_R)
    extrude(amount=CYLINDER005_DEPTH)


with BuildPart() as cylinder005_1:
    # cylinder005 placement: moved
    add(cylinder005.part.moved(Location((-5.656854, -11.343146, -1))).rotate(Axis((-5.656854, -11.343146, -1), (0, 0, 1)), CYLINDER005_PLACEMENT_ANGLE))


with BuildPart() as prism002:
    # prism002 → prism002 (new body)
    with BuildSketch(Plane.XY):
        Polygon((3.3, 0), (1.65, 2.857884), (-1.65, 2.857884), (-3.3, 0), (-1.65, -2.857884), (1.65, -2.857884), align=None)
    extrude(amount=PRISM002_DEPTH)


with BuildPart() as prism002_1:
    # prism002 placement: moved
    add(prism002.part.moved(Location((5.656854, -22.656854, 6))).rotate(Axis((5.656854, -22.656854, 6), (0, 0, 1)), PRISM002_PLACEMENT_ANGLE))


with BuildPart() as prism003:
    # prism003 → prism003 (new body)
    with BuildSketch(Plane.XY):
        Polygon((3.2, 0), (1.6, 2.771281), (-1.6, 2.771281), (-3.2, 0), (-1.6, -2.771281), (1.6, -2.771281), align=None)
    extrude(amount=PRISM003_DEPTH)


with BuildPart() as prism003_1:
    # prism003 placement: moved
    add(prism003.part.moved(Location((-5.656854, -11.343146, 6))).rotate(Axis((-5.656854, -11.343146, 6), (0, 0, 1)), PRISM003_PLACEMENT_ANGLE))


with BuildPart() as cube014:
    # cube014 → cube014 (new body)
    with BuildSketch(Plane.XY):
        with Locations((2.5, 2.5)):
            Rectangle(CUBE014_W, CUBE014_H)
    extrude(amount=CUBE014_DEPTH)


with BuildPart() as cube014_1:
    # cube014 placement: moved
    add(cube014.part.moved(Location((-5.5, -17.2, 6))).rotate(Axis((-5.5, -17.2, 6), (0, 0, 1)), CUBE014_PLACEMENT_ANGLE))


with BuildPart() as cube015:
    # cube015 → cube015 (new body)
    with BuildSketch(Plane.XY):
        with Locations((2.5, 5)):
            Rectangle(CUBE015_W, CUBE015_H)
    extrude(amount=CUBE015_DEPTH)


with BuildPart() as cube015_1:
    # cube015 placement: moved
    add(cube015.part.moved(Location((0, -17.2, 6))).rotate(Axis((0, -17.2, 6), (0, 0, 1)), CUBE015_PLACEMENT_ANGLE))


with BuildPart() as cube003:
    # cube003 → cube003 (new body)
    with BuildSketch(Plane.XY):
        with Locations((3, 0.5)):
            Rectangle(CUBE003_W, CUBE003_H)
    extrude(amount=CUBE003_DEPTH)


with BuildPart() as cube003_1:
    # cube003 placement: moved
    add(cube003.part.moved(Location((3.0109, -3.179148, 0.5))).rotate(Axis((3.0109, -3.179148, 0.5), (0, 0, -1)), CUBE003_PLACEMENT_ANGLE))


with BuildPart() as group006:
    # cylinder002 → cylinder002 (new body)
    with BuildSketch(Plane.XY.offset(-1)):
        Circle(CYLINDER002_R)
    extrude(amount=CYLINDER002_DEPTH)

    # Group002: union cube003
    add(cube003_1.part)

    # Group005: union Matrix_Union, Group003, Group004, cylinder003, cylinder004, cylinder005, prism002, prism003, cube014, cube015
    add(matrix_union_1.part)
    add(group003_1.part)
    add(group004_1.part)
    add(cylinder003.part)
    add(cylinder004_1.part)
    add(cylinder005_1.part)
    add(prism002_1.part)
    add(prism003_1.part)
    add(cube014_1.part)
    add(cube015_1.part)

    # Group006: union Matrix_Union001
    add(matrix_union001_1.part)


with BuildPart() as cylinder:
    # cylinder → cylinder (new body)
    with BuildSketch(Plane.XY):
        Circle(CYLINDER_R)
    extrude(amount=CYLINDER_DEPTH)


with BuildPart() as group:
    # cube001 → cube001 (new body)
    with BuildSketch(Plane(origin=(-14.25, -10.25, 0), x_dir=(1, 0, 0), z_dir=(0, 0, 1))):
        with Locations((7.125, 10.25)):
            Rectangle(CUBE001_W, CUBE001_H)
    extrude(amount=CUBE001_DEPTH)

    # Group: union cylinder
    add(cylinder.part)


with BuildPart() as cylinder001:
    # cylinder001 → cylinder001 (new body)
    with BuildSketch(Plane(origin=(0, -17, 0), x_dir=(1, 0, 0), z_dir=(0, 0, 1))):
        Circle(CYLINDER001_R)
    extrude(amount=CYLINDER001_DEPTH)


with BuildPart() as cube002:
    # cube002 → cube002 (new body)
    with BuildSketch(Plane.XY):
        with Locations((5, 2.5)):
            Rectangle(CUBE002_W, CUBE002_H)
    extrude(amount=CUBE002_DEPTH)


with BuildPart() as cube002_1:
    # cube002 placement: moved
    add(cube002.part.moved(Location((-7.468971, -15.99371, 9.5))).rotate(Axis((-7.468971, -15.99371, 9.5), (0, 0, 1)), CUBE002_PLACEMENT_ANGLE))


with BuildPart() as difference004:
    # cube → cube (new body)
    with BuildSketch(Plane(origin=(-23.5, -28.5, 0), x_dir=(1, 0, 0), z_dir=(0, 0, 1))):
        with Locations((8.5, 19.5)):
            Rectangle(CUBE_W, CUBE_H)
    extrude(amount=CUBE_DEPTH)

    # Group001: union Group, cylinder001, cube002
    add(group.part)
    add(cylinder001.part)
    add(cube002_1.part)

    # difference003: cut Group006
    add(group006.part, mode=Mode.SUBTRACT)

    # union001: union cylinder008, cylinder009
    add(cylinder008.part)
    add(cylinder009.part)

    # difference004: cut Group007
    add(group007.part, mode=Mode.SUBTRACT)


with BuildPart() as mirrored_difference004:
    # mirr_difference004: instance of difference004
    add(difference004.part.mirror(Plane(origin=(0, 0, 0), x_dir=(1, 0, 0), z_dir=(0, 1, 0))))


solid = mirrored_difference004.part
